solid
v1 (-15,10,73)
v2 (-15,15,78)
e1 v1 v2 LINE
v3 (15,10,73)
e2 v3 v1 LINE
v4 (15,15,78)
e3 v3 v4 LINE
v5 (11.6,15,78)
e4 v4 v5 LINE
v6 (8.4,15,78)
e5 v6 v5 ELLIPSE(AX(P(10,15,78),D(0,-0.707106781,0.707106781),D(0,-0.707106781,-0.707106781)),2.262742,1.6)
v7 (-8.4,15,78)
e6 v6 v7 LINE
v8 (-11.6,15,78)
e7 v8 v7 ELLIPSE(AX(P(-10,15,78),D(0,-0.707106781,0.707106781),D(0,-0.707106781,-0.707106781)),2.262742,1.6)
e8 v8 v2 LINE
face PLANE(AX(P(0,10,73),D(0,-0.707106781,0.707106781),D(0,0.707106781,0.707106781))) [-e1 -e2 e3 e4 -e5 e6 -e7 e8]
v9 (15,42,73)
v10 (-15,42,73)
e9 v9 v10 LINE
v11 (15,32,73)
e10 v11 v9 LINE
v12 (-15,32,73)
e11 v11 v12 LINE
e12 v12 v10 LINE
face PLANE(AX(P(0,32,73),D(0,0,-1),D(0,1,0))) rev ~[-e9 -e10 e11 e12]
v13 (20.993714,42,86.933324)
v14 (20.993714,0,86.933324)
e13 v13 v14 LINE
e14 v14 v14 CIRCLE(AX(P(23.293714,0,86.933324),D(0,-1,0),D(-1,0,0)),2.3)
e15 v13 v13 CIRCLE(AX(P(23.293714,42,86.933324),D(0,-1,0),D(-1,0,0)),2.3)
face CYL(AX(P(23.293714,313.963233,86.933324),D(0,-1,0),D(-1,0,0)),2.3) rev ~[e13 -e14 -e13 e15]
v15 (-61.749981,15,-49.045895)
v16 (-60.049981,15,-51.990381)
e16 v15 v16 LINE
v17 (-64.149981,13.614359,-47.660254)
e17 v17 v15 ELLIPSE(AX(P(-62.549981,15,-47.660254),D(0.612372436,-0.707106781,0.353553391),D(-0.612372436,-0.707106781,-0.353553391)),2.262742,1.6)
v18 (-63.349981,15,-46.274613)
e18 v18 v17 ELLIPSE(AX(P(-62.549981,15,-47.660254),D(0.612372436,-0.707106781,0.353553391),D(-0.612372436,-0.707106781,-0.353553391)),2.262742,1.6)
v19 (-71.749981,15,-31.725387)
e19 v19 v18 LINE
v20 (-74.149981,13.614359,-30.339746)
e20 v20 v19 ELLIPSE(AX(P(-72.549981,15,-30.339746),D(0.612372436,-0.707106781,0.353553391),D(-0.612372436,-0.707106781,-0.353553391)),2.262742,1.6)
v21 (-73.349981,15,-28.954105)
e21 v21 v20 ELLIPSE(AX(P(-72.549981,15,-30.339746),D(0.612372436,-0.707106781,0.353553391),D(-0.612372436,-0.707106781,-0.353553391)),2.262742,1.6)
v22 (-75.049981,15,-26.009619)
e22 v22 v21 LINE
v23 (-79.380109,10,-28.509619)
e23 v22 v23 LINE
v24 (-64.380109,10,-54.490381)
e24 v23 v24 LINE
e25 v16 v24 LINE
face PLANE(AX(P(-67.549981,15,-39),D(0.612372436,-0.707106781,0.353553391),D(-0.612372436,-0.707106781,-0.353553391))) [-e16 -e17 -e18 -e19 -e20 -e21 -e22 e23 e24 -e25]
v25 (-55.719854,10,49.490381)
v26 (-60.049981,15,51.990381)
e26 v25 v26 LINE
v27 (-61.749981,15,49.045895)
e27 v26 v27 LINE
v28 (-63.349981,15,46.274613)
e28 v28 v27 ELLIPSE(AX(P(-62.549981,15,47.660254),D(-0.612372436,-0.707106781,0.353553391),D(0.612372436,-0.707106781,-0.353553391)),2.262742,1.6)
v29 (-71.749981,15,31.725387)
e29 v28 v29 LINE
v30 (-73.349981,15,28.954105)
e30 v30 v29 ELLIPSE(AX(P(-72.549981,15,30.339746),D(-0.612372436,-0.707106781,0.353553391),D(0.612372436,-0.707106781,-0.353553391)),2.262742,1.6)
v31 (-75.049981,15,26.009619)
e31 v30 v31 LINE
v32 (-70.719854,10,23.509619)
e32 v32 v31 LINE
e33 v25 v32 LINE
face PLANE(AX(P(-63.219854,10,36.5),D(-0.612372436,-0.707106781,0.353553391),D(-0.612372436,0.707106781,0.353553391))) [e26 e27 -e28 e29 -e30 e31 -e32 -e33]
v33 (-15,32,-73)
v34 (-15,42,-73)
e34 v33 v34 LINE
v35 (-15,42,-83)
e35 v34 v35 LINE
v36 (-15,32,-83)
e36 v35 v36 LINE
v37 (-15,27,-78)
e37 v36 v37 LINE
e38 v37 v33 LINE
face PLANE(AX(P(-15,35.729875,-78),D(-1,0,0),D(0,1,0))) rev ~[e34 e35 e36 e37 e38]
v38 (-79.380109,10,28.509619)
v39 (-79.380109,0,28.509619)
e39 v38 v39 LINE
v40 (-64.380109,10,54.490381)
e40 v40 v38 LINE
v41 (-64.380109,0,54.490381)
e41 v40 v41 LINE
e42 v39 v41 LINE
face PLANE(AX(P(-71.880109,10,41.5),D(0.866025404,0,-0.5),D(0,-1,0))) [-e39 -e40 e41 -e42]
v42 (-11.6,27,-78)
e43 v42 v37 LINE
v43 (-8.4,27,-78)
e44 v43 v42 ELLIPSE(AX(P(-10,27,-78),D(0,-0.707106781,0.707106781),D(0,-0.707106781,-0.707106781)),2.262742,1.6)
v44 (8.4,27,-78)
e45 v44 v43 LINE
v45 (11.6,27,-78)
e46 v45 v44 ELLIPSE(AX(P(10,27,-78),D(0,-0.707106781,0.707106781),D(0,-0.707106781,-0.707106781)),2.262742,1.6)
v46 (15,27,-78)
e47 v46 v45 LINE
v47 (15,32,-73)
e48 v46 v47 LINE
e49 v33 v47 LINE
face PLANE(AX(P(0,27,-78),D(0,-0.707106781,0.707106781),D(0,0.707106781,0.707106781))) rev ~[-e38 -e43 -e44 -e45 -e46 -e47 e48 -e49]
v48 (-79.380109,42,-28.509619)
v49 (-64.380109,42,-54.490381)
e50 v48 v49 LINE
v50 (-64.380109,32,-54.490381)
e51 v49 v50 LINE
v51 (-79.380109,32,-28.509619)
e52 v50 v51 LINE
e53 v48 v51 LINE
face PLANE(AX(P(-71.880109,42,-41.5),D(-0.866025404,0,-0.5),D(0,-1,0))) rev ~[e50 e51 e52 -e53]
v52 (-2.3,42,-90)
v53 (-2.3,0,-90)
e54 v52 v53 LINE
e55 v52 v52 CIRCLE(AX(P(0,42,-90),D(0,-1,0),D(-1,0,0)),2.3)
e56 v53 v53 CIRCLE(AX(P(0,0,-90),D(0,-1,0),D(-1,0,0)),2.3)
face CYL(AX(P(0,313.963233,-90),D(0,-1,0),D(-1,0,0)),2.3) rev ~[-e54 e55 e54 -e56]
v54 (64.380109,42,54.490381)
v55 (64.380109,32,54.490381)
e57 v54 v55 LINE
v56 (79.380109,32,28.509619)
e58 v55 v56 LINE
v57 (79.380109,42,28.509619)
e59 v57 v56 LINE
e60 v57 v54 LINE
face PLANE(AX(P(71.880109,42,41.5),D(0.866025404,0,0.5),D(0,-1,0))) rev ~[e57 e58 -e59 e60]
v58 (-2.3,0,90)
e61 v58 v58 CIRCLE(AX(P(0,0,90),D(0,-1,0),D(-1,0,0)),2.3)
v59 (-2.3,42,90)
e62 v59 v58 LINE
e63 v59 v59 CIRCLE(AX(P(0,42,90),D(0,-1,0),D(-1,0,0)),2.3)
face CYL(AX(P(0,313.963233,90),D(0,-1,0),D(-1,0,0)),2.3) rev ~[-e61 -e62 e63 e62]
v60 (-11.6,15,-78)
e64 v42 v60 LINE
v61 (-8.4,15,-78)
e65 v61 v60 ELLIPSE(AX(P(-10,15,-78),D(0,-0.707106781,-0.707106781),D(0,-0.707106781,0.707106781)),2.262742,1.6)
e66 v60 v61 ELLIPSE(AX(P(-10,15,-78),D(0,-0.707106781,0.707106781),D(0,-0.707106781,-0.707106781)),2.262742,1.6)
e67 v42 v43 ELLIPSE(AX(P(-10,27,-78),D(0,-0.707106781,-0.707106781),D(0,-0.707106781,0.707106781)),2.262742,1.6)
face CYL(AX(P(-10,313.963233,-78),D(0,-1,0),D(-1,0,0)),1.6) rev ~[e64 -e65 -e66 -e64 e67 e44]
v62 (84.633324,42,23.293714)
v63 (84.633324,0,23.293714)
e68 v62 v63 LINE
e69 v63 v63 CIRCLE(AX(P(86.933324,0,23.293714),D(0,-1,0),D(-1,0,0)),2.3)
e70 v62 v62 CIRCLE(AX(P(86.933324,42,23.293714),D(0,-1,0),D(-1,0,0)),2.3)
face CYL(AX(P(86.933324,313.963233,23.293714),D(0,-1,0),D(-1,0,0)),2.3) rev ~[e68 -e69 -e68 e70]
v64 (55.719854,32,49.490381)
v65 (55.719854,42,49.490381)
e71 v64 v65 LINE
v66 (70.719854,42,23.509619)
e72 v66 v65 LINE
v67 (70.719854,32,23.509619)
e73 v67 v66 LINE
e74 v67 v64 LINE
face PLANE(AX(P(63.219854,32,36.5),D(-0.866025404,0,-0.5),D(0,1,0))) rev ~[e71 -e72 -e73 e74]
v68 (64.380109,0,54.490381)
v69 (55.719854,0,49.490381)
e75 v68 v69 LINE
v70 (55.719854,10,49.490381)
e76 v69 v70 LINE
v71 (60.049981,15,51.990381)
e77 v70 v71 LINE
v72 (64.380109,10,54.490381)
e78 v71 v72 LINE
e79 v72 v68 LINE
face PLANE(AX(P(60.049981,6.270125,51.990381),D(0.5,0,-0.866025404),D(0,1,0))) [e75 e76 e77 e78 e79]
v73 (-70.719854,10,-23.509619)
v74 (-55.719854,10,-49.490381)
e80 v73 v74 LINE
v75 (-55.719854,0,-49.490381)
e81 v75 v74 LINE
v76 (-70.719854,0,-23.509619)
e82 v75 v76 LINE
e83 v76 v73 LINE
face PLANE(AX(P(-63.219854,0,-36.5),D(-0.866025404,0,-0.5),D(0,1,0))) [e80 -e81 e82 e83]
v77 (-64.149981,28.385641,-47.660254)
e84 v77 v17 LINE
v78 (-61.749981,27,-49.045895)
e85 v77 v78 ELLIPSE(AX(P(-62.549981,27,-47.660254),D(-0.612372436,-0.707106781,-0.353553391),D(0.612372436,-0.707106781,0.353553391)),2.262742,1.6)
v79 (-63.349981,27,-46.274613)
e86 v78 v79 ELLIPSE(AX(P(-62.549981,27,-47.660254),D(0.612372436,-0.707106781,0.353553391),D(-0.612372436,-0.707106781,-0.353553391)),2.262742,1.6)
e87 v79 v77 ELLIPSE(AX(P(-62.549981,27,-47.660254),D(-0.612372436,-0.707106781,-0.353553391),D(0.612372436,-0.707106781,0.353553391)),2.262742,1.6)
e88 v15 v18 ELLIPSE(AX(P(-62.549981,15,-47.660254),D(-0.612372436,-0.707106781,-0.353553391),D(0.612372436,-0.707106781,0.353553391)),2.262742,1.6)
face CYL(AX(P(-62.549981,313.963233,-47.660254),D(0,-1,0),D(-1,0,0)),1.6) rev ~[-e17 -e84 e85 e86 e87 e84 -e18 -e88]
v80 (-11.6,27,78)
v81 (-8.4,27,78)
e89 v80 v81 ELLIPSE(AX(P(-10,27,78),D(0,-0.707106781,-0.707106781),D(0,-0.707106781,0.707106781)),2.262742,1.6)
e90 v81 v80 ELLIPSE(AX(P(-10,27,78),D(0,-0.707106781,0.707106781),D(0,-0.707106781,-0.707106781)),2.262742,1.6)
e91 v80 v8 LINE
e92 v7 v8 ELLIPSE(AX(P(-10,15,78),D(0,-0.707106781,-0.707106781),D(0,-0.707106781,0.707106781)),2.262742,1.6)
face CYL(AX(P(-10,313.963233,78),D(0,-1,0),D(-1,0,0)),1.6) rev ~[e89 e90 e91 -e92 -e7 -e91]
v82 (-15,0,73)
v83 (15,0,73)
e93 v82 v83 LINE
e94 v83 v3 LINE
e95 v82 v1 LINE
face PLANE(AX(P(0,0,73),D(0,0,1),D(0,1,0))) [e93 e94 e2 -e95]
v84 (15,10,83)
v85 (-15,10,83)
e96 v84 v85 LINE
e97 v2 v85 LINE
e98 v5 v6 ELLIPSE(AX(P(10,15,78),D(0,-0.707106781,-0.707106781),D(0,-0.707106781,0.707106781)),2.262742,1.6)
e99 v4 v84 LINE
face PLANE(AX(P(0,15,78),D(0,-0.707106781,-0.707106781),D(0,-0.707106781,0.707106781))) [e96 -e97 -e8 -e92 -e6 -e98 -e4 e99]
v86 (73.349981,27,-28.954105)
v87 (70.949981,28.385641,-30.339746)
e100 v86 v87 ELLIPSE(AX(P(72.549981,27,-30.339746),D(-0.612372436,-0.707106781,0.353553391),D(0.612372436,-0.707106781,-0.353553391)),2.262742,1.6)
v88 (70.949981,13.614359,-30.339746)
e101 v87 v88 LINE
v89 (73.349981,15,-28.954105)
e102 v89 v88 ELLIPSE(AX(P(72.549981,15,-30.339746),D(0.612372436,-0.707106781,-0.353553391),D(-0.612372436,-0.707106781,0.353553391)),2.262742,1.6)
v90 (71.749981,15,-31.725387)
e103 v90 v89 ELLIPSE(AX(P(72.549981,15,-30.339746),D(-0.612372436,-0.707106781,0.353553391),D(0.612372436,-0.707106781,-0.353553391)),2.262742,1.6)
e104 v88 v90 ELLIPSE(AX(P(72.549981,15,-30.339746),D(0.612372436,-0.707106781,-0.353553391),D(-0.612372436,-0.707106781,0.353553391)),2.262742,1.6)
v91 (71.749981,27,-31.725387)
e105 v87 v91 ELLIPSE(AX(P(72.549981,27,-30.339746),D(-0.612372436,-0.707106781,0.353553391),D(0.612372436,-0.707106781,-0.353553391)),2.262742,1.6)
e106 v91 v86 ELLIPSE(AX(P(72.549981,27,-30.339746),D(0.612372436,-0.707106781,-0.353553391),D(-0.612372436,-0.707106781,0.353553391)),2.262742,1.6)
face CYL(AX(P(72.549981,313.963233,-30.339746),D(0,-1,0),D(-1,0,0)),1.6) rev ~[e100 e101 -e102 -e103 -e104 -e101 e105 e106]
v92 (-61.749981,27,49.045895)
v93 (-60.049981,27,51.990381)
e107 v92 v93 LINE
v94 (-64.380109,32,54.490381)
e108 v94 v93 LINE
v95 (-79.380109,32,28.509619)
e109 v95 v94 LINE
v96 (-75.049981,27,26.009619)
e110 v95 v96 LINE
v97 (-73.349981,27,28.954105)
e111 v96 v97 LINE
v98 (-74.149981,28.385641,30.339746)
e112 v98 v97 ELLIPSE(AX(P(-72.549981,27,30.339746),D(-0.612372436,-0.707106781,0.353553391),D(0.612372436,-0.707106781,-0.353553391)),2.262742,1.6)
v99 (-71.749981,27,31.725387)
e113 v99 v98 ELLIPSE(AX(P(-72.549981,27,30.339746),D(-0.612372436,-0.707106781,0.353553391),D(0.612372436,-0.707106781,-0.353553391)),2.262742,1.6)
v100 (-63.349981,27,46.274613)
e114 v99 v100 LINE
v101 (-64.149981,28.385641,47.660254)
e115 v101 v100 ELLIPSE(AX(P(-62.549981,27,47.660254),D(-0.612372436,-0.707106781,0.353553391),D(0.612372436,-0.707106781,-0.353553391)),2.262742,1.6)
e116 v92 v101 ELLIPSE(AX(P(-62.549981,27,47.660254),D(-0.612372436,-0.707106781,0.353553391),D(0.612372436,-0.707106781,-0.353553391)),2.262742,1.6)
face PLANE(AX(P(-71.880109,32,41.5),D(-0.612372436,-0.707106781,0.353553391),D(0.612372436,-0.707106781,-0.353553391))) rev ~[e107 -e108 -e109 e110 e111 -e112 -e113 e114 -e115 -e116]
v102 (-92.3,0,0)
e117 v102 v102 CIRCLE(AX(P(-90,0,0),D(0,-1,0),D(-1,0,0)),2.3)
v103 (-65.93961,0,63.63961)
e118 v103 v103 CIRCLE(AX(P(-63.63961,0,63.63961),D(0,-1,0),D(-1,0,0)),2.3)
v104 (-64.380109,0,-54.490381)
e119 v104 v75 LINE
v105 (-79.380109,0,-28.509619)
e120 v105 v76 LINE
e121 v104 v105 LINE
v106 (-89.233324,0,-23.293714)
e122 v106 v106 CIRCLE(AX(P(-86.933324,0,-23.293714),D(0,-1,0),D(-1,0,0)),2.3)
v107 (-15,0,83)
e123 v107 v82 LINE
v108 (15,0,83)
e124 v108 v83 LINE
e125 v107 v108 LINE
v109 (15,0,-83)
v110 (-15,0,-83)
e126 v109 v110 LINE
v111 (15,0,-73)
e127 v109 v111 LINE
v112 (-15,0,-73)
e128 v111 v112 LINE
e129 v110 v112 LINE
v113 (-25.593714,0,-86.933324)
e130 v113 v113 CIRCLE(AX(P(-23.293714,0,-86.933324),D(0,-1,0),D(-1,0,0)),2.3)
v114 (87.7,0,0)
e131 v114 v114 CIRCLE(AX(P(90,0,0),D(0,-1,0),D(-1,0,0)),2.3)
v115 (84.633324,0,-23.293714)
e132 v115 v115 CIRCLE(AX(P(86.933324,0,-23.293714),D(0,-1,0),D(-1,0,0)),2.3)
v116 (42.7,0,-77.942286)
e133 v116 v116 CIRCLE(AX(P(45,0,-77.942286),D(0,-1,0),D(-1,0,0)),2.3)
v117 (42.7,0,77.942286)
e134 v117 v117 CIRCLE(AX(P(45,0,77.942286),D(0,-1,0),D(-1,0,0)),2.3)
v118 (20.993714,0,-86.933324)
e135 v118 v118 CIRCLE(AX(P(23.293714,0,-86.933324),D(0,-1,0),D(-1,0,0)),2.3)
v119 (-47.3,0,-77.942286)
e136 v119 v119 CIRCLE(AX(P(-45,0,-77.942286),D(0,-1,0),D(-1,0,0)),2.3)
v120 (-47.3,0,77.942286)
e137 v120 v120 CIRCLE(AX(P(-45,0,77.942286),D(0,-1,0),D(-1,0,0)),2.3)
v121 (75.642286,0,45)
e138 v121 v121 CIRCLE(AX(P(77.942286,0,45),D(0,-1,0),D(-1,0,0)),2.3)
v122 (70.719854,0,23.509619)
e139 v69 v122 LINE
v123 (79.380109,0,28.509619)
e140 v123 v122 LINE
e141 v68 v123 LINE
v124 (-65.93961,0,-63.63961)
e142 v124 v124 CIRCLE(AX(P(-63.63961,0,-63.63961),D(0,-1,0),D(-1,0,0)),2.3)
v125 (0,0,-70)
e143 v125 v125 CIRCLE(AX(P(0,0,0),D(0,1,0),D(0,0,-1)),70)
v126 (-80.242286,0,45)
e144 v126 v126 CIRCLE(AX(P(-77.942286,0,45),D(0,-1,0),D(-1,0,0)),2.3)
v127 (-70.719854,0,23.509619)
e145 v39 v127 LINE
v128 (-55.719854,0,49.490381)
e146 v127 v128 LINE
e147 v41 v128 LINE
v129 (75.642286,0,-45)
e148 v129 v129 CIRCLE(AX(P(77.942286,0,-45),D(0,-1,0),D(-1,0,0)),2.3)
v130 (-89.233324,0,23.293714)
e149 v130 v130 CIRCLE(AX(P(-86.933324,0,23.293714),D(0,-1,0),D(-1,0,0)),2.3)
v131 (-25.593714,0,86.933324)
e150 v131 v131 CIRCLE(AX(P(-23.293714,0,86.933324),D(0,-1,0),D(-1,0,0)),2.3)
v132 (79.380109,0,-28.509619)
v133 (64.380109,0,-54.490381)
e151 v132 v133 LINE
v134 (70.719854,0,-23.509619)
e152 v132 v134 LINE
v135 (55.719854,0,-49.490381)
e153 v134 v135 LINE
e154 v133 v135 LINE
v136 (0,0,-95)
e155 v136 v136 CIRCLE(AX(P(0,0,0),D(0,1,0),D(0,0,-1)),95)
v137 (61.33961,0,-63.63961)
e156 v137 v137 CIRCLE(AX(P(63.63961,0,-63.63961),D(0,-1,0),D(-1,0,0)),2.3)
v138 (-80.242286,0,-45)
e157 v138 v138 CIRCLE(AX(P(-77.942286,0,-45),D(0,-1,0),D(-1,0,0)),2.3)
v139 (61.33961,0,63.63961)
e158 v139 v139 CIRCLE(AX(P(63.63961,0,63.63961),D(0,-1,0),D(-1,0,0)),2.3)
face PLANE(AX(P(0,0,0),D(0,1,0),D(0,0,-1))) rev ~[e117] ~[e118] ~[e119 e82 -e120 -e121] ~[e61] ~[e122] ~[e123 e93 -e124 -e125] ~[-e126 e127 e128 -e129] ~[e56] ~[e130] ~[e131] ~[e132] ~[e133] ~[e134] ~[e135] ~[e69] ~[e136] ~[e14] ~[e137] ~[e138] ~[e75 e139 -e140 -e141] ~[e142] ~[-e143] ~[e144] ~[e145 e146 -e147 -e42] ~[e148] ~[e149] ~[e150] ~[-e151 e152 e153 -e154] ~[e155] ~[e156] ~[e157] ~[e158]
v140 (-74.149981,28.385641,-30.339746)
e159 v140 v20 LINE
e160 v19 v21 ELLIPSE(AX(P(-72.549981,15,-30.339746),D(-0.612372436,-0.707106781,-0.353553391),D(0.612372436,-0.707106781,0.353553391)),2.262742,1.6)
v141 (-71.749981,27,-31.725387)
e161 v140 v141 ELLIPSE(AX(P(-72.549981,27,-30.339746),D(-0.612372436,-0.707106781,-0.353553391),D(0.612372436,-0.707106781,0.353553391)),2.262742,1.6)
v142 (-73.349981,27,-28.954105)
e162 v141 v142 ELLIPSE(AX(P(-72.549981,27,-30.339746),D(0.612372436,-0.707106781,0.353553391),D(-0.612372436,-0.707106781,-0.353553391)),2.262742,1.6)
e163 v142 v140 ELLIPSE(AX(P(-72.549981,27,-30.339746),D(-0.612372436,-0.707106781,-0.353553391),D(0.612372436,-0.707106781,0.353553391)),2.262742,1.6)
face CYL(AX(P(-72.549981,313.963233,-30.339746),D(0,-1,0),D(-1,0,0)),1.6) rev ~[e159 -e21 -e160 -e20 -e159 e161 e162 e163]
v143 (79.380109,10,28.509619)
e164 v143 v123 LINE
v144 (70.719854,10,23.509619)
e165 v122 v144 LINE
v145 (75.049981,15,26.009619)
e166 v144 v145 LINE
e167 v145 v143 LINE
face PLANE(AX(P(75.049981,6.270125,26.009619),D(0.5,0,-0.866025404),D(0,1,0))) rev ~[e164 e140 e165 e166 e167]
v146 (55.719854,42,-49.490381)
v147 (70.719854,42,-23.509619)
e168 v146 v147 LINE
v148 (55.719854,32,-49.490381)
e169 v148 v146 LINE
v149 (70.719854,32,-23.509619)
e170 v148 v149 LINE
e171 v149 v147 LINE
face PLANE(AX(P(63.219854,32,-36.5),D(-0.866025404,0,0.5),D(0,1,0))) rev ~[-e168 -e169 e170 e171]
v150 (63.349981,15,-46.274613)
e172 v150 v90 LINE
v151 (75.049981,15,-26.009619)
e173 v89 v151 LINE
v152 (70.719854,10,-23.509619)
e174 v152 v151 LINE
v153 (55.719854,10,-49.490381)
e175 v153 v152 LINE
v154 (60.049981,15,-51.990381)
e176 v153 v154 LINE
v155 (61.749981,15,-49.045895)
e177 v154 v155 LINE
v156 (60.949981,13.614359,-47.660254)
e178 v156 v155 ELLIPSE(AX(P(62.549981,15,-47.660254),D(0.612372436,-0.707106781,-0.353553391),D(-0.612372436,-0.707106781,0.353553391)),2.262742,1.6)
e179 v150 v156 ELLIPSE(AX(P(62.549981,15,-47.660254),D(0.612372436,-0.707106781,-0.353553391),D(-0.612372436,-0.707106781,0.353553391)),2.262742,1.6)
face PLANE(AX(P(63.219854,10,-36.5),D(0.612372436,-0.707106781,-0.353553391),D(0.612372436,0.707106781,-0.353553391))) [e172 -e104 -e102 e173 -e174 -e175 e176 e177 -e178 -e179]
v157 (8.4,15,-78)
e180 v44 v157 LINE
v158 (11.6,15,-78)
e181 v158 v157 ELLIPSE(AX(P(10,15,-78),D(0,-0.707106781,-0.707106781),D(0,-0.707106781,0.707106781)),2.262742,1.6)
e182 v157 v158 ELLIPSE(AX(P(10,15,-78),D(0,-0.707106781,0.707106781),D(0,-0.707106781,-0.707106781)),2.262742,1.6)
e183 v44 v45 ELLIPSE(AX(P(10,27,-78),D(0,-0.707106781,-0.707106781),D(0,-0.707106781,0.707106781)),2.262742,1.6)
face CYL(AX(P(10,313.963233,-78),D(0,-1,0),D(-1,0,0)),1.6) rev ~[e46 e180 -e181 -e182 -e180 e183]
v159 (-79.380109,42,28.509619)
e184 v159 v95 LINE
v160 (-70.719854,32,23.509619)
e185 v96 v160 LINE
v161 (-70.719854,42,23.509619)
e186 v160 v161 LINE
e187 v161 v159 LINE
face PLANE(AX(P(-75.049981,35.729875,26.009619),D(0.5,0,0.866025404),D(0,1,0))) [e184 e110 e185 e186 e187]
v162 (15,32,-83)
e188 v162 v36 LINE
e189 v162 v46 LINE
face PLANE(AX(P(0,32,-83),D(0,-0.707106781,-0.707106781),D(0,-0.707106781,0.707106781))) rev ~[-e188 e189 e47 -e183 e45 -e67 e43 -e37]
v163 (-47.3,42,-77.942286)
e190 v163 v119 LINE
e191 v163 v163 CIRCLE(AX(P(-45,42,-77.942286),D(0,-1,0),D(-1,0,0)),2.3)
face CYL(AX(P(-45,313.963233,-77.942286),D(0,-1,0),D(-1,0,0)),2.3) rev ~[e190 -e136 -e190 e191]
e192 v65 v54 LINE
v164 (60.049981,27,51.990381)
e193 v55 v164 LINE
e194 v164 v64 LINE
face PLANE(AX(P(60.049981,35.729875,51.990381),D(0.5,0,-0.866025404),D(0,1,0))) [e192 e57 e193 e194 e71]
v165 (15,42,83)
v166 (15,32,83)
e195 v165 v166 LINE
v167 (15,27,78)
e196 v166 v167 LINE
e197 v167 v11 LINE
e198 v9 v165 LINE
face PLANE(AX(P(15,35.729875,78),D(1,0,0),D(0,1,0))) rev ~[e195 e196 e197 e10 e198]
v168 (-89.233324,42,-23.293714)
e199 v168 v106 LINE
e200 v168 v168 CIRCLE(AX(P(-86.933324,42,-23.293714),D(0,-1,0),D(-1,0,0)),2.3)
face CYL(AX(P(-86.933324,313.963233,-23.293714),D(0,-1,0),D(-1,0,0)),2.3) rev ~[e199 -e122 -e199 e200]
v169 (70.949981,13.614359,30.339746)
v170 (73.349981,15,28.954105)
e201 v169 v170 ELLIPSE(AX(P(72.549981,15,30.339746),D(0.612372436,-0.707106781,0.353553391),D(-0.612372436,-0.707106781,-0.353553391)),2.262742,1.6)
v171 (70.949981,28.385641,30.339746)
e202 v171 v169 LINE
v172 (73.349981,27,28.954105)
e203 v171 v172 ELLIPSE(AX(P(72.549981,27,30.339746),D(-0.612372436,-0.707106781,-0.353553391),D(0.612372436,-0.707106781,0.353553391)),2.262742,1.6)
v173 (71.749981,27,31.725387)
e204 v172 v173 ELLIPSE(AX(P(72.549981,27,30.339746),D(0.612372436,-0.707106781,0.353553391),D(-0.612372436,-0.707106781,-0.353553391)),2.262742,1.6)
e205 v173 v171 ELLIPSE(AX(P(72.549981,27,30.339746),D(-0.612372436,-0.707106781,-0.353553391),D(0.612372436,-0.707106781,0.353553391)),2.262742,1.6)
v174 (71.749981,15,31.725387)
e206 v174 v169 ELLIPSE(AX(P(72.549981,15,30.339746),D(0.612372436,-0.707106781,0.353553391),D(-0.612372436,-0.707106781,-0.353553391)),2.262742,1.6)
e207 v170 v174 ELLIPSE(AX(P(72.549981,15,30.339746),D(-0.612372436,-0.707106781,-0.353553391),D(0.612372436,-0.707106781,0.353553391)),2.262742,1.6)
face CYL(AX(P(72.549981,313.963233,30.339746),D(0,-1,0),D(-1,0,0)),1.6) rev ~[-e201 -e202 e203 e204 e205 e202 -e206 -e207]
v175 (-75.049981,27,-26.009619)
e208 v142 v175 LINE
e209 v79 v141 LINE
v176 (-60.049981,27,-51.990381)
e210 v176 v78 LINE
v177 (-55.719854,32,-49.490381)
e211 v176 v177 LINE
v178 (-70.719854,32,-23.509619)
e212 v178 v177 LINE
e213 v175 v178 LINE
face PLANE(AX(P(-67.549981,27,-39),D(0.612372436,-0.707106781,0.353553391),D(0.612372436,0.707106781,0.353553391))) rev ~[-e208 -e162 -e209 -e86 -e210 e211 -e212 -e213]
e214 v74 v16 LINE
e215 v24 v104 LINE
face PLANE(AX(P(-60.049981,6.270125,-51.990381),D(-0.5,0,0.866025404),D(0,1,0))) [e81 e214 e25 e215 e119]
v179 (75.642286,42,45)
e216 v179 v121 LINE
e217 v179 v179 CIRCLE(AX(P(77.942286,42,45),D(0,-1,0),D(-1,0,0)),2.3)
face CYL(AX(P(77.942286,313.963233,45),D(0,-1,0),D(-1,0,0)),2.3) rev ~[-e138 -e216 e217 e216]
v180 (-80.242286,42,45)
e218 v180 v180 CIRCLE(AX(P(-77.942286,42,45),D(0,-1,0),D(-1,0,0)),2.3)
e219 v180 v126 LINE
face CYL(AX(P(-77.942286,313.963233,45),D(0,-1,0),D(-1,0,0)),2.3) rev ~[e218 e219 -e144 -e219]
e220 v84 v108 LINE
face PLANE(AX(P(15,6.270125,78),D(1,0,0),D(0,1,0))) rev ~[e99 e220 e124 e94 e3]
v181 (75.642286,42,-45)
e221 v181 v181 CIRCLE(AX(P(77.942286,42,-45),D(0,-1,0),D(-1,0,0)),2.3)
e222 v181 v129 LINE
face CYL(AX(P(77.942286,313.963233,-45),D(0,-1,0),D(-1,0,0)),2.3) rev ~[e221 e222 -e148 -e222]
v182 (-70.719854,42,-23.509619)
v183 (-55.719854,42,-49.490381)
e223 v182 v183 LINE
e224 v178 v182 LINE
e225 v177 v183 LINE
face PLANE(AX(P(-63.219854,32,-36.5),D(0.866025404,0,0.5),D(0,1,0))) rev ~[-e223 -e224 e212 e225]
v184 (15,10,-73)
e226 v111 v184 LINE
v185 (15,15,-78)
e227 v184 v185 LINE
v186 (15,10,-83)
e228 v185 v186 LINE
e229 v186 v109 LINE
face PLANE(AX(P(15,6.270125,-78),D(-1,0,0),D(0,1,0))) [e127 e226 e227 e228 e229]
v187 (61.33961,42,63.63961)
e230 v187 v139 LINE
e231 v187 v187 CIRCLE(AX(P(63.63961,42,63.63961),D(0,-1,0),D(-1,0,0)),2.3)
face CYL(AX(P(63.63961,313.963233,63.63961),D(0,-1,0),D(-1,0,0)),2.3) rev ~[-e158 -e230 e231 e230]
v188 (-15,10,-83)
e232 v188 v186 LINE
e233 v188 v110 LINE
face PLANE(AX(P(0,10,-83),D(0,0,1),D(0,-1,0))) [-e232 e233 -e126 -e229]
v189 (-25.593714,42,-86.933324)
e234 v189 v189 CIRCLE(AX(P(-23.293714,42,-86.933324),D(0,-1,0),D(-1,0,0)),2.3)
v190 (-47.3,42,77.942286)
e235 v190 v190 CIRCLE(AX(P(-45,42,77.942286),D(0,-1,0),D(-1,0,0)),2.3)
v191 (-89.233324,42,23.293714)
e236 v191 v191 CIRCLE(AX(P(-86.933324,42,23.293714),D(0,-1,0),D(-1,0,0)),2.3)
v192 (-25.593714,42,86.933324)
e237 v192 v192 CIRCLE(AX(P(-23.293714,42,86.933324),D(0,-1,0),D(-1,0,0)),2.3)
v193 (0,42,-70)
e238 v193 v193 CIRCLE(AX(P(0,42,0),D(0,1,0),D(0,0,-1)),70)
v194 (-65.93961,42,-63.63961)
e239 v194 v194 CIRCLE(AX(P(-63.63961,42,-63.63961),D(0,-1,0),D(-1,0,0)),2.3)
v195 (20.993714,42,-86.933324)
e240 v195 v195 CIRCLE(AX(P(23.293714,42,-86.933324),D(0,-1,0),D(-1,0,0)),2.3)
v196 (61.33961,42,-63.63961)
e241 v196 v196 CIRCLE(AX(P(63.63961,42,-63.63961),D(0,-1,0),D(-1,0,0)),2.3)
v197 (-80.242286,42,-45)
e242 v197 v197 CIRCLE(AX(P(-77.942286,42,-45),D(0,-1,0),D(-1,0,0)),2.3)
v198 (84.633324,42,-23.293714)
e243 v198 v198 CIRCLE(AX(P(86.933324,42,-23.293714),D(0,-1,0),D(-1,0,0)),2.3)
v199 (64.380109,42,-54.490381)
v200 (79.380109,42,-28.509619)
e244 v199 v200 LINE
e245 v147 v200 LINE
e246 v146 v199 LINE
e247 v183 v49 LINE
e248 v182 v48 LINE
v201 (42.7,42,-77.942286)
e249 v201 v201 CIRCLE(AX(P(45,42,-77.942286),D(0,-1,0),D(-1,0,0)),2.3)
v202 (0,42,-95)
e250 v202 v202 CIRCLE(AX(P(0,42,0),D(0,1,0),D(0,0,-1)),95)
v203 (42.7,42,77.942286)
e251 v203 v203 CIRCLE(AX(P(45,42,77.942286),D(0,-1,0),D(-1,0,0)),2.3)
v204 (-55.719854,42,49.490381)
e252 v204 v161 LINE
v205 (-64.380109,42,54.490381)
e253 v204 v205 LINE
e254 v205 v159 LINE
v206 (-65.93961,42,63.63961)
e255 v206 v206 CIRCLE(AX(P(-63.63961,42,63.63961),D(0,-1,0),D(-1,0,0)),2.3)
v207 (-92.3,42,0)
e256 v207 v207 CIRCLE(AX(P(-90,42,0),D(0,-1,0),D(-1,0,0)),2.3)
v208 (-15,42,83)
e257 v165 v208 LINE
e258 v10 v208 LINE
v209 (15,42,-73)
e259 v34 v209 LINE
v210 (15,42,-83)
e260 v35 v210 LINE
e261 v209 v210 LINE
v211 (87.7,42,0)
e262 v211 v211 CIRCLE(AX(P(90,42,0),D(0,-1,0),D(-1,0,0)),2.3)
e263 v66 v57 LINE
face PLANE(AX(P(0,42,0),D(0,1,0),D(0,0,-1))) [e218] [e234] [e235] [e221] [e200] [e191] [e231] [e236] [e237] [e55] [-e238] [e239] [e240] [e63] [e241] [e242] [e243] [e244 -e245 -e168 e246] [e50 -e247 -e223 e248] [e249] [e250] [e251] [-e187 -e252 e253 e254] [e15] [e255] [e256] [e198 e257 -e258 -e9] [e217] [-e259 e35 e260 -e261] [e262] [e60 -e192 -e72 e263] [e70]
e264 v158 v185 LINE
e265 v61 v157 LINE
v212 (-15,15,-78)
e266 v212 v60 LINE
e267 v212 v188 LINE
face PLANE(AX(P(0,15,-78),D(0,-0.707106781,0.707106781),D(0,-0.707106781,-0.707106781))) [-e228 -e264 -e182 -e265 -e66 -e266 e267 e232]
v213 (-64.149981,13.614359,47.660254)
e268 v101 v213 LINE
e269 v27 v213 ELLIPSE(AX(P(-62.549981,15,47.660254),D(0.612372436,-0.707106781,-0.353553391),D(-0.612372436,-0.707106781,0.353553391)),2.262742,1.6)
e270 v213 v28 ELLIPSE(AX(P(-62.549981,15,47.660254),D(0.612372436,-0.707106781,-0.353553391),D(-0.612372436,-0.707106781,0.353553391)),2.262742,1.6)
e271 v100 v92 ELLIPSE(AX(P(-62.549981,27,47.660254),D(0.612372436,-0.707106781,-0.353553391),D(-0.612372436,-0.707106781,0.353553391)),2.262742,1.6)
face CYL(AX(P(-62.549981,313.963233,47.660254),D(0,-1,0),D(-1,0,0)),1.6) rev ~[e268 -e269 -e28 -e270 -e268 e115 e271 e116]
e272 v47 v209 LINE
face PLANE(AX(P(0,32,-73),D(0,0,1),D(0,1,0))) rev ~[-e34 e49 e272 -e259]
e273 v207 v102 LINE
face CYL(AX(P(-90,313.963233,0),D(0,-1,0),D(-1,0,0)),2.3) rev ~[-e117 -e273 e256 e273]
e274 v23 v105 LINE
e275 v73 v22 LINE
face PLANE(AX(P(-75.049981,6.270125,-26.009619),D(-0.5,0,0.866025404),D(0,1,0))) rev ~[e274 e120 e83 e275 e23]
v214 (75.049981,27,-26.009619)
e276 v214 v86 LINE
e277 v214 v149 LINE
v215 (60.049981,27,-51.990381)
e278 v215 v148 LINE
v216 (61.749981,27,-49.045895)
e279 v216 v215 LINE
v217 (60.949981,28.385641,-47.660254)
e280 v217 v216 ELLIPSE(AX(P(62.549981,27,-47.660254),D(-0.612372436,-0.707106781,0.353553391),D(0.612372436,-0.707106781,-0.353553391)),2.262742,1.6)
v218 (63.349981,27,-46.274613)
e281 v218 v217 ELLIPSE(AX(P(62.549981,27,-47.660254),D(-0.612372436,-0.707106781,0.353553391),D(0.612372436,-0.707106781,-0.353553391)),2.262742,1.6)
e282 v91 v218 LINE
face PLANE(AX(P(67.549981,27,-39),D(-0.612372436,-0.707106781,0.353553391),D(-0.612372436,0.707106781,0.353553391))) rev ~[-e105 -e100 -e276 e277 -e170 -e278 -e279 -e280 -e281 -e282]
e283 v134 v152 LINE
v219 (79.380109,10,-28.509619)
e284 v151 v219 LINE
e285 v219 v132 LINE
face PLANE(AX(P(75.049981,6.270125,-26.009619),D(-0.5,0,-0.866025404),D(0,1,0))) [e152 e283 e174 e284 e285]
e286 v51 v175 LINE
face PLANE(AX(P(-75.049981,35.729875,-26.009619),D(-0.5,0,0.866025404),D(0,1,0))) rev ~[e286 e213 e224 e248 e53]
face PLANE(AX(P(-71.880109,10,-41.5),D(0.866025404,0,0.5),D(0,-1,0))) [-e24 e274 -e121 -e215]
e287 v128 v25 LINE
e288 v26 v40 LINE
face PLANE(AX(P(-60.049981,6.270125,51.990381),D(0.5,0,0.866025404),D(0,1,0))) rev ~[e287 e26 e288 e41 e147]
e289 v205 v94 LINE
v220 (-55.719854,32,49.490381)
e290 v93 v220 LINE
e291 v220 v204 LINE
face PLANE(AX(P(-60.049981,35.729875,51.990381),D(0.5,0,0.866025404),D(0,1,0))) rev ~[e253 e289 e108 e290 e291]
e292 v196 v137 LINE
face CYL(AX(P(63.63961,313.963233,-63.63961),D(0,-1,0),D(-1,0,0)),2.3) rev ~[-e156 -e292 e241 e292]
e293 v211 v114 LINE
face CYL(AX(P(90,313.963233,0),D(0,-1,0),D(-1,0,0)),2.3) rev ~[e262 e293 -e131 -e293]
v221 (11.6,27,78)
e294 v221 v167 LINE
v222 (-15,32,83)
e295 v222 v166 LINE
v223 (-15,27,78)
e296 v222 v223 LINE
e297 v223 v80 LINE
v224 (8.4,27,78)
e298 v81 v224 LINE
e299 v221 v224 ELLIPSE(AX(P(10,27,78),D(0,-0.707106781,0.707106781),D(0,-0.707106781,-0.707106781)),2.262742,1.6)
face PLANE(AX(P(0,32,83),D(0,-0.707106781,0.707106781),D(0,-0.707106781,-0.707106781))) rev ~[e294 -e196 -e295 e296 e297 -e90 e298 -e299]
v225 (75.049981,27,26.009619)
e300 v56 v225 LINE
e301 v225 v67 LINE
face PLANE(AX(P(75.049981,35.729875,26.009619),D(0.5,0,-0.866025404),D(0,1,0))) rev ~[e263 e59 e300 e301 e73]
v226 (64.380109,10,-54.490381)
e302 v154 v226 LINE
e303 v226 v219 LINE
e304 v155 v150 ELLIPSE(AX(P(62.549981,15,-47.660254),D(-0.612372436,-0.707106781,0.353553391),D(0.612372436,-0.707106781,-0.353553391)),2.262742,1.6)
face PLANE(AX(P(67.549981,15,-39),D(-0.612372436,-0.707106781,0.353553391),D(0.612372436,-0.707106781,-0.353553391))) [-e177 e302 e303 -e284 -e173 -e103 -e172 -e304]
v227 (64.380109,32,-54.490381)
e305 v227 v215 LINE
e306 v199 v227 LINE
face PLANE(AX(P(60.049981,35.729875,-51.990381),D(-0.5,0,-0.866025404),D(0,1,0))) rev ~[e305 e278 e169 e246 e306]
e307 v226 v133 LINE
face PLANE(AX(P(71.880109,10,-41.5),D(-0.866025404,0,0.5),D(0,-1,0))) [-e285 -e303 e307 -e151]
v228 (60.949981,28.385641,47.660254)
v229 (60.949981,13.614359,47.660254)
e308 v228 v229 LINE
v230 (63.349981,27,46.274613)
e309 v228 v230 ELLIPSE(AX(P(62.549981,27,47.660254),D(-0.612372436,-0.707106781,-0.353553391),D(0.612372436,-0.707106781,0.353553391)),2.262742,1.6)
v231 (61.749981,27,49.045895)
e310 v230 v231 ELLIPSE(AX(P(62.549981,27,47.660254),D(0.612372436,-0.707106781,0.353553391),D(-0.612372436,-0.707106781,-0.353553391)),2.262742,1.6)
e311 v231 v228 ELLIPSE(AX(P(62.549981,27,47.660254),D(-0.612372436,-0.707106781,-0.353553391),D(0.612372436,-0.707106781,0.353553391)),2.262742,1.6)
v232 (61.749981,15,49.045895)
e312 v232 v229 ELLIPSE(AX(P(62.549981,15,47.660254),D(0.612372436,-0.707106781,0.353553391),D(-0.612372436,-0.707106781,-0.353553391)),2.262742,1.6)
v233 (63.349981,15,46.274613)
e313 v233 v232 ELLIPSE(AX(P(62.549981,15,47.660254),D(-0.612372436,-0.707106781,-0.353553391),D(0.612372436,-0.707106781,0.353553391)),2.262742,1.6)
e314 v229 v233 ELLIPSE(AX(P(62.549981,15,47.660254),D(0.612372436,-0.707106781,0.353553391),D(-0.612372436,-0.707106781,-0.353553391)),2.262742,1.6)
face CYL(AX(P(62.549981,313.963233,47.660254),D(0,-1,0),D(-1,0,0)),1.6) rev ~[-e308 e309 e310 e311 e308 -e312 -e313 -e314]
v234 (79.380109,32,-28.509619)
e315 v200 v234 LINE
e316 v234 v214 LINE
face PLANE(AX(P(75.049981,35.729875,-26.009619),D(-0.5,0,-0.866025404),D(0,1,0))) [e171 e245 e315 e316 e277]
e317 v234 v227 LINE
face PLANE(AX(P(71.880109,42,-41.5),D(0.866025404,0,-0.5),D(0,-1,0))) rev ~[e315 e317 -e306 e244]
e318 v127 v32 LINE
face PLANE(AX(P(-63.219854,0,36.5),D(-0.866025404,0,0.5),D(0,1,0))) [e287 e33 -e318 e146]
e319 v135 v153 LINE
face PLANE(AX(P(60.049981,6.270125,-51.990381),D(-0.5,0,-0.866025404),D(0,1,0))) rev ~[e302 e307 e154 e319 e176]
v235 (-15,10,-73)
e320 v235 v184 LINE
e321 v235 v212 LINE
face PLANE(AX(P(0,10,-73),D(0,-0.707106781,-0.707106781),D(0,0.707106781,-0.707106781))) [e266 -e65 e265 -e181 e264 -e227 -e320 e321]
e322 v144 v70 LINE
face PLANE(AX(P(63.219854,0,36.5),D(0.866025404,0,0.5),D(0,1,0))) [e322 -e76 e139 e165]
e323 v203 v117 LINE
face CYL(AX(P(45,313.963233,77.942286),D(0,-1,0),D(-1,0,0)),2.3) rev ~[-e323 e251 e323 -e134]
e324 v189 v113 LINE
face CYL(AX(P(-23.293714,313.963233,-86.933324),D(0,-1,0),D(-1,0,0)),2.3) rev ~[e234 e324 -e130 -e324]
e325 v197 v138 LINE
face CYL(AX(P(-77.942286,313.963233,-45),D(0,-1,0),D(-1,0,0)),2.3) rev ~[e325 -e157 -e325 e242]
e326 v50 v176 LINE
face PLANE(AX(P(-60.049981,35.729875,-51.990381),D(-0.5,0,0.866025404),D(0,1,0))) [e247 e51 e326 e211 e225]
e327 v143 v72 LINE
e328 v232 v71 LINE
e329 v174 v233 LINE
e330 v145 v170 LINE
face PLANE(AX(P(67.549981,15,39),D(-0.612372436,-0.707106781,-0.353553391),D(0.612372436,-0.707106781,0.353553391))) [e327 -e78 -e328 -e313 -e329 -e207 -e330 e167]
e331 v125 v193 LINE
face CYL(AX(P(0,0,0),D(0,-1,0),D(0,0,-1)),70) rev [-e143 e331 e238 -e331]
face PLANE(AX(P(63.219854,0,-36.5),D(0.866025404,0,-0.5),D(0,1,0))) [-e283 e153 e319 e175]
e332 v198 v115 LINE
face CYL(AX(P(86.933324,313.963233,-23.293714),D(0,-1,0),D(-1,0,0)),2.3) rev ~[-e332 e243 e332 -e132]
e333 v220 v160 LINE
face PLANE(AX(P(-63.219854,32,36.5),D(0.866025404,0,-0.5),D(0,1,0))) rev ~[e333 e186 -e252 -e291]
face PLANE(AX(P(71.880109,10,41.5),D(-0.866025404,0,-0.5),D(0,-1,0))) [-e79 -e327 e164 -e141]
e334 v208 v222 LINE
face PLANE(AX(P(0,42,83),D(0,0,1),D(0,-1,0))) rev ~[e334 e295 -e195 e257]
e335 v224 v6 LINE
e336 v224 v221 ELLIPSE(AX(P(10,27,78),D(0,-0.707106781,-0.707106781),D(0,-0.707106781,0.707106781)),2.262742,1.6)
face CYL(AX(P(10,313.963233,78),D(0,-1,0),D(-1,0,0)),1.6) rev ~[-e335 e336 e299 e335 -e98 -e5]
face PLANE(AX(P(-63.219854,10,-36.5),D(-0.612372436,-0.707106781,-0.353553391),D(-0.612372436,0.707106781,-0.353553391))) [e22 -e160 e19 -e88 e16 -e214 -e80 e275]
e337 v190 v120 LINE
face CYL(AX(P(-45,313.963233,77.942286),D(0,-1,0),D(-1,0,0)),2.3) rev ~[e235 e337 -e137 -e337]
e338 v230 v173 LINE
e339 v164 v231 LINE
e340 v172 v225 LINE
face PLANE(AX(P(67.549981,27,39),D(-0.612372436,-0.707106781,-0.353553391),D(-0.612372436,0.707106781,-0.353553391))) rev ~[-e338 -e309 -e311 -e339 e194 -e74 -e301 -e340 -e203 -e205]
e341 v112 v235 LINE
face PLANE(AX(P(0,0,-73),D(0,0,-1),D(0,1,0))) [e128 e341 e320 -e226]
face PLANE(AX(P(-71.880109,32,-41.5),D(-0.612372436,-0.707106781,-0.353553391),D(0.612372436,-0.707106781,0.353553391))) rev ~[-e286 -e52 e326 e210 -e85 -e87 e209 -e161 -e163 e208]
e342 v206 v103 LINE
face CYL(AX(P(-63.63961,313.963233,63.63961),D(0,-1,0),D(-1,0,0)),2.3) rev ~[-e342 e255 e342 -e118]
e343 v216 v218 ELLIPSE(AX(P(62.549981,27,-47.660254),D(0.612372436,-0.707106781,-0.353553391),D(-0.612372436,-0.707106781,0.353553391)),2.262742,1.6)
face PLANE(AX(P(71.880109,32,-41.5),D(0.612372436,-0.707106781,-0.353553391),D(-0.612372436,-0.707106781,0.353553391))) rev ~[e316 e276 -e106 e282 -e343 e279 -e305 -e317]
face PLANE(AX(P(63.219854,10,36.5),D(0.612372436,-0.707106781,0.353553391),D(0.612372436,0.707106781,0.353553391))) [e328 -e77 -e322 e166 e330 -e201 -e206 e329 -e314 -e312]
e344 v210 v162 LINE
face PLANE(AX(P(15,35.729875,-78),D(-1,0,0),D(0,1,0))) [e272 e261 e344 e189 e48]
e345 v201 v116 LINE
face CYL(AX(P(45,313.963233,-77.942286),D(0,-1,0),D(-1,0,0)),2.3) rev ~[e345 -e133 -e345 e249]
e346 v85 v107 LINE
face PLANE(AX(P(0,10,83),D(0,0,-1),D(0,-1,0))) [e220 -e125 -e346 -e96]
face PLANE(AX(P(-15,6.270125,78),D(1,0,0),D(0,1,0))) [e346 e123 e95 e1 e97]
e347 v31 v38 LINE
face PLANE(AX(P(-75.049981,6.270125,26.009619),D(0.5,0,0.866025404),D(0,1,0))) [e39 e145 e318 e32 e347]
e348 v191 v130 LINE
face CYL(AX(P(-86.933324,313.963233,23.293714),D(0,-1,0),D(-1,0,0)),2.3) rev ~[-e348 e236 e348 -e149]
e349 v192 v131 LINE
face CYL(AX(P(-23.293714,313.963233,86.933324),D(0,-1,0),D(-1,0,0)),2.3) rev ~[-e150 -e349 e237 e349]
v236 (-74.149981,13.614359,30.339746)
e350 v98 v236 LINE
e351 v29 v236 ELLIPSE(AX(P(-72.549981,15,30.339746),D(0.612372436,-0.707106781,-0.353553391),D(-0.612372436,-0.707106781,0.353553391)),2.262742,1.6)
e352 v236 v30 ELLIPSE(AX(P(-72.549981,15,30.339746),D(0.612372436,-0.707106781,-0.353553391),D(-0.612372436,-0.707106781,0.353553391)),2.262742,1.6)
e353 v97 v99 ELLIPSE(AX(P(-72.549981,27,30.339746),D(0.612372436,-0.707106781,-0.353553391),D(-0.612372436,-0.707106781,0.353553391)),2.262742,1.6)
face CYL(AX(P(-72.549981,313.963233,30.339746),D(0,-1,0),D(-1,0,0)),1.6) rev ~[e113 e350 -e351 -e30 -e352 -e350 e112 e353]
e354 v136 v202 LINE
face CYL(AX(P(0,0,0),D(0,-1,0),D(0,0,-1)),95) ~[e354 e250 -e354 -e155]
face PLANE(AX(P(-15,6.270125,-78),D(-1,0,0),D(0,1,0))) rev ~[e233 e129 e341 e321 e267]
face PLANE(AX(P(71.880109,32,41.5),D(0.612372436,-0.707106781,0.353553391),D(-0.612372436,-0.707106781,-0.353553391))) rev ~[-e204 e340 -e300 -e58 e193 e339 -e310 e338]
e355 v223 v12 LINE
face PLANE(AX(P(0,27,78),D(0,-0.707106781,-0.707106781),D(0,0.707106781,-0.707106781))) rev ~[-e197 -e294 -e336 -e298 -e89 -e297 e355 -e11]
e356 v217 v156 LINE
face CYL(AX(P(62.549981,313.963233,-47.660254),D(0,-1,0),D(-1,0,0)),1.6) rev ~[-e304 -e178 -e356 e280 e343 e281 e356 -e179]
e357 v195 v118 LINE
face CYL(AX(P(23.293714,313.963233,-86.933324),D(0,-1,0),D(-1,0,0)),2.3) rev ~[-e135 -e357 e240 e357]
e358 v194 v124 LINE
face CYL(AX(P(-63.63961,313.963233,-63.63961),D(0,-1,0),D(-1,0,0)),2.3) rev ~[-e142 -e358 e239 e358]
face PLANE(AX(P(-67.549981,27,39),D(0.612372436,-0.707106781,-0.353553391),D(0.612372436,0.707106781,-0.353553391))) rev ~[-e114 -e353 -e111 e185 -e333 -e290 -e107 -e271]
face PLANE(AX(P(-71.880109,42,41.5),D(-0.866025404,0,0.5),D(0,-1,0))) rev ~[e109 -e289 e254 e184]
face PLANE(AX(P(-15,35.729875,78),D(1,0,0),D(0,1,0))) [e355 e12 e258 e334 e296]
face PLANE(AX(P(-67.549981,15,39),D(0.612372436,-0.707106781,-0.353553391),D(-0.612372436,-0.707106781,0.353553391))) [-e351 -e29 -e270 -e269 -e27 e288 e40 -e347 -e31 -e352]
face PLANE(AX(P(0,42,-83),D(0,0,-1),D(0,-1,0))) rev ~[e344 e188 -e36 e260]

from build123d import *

# Parameters (mm, degrees)
SKETCH1_R             = 95
SKETCH1_R_2           = 70
BOSS_EXTRUDE1_DEPTH   = 42
CUT_EXTRUDE3_DEPTH    = 15
CIRPATTERN2_COUNT     = 6
M3_CLEARANCE_HOLE1_D  = 3.2
F_5_0MM_DOWEL_SLOT1_D = 4.6


with BuildPart() as part:
    # Sketch1 → Boss-Extrude1 (new body)
    with BuildSketch(Plane(origin=(0, 0, 0), x_dir=(1, 0, 0), z_dir=(0, 1, 0))):
        with Locations(Location((0, 0, 0), (0, 0, 90))):
            Circle(SKETCH1_R)
        with Locations(Location((0, 0, 0), (0, 0, 90))):
            Circle(SKETCH1_R_2, mode=Mode.SUBTRACT)
    extrude(amount=BOSS_EXTRUDE1_DEPTH)

    # Sketch7 → Cut-Extrude3 (cut, symmetric)
    with BuildSketch(Plane(origin=(0, 0, 0), x_dir=(0, -1, 0), z_dir=(-0.500000000000001, 0, 0.866025403784438))):
        Polygon((-42, 83), (-32, 83), (-27, 78), (-32, 73), (-42, 73), align=None)
        Polygon((-10, 83), (0, 83), (0, 73), (-10, 73), (-15, 78), align=None)
    cut_extrude3 = extrude(amount=CUT_EXTRUDE3_DEPTH, both=True, mode=Mode.SUBTRACT)

    # CirPattern2: Cut-Extrude3 ×6 about axis
    cirpattern2_axis = Axis((0, 0, 0), (0, 1, 0))
    for i in range(1, CIRPATTERN2_COUNT):
        add(cut_extrude3.rotate(cirpattern2_axis, i * 360 / CIRPATTERN2_COUNT), mode=Mode.SUBTRACT)

    # M3 Clearance Hole1 (through all)
    with Locations(Plane(origin=(0, 42, 0), x_dir=(1, 0, 0), z_dir=(0, 1, 0))):
        with Locations((62.549981495, -47.660254038), (72.549981495, -30.339745962), (-10, -78), (10, -78), (-72.549981495, -30.339745962), (-62.549981495, -47.660254038), (-62.549981495, 47.660254038), (-72.549981495, 30.339745962), (10, 78), (-10, 78), (72.549981495, 30.339745962), (62.549981495, 47.660254038), (0, 0)):
            Hole(M3_CLEARANCE_HOLE1_D / 2)

    # Ø5.0mm Dowel Slot1 (through all)
    with Locations(Plane(origin=(0, 42, 0), x_dir=(1, 0, 0), z_dir=(0, 1, 0))):
        with Locations((0, 90), (23.293714059, 86.933324366), (45, 77.942286341), (63.639610307, 63.639610307), (77.942286341, 45), (86.933324366, 23.293714059), (90, 0), (86.933324366, -23.293714059), (77.942286341, -45), (63.639610307, -63.639610307), (45, -77.942286341), (23.293714059, -86.933324366), (0, -90), (-23.293714059, -86.933324366), (-45, -77.942286341), (-63.639610307, -63.639610307), (-77.942286341, -45), (-86.933324366, -23.293714059), (-90, 0), (-86.933324366, 23.293714059), (-77.942286341, 45), (-63.639610307, 63.639610307), (-45, 77.942286341), (-23.293714059, 86.933324366), (0, 0)):
            Hole(F_5_0MM_DOWEL_SLOT1_D / 2)


solid = part.part
